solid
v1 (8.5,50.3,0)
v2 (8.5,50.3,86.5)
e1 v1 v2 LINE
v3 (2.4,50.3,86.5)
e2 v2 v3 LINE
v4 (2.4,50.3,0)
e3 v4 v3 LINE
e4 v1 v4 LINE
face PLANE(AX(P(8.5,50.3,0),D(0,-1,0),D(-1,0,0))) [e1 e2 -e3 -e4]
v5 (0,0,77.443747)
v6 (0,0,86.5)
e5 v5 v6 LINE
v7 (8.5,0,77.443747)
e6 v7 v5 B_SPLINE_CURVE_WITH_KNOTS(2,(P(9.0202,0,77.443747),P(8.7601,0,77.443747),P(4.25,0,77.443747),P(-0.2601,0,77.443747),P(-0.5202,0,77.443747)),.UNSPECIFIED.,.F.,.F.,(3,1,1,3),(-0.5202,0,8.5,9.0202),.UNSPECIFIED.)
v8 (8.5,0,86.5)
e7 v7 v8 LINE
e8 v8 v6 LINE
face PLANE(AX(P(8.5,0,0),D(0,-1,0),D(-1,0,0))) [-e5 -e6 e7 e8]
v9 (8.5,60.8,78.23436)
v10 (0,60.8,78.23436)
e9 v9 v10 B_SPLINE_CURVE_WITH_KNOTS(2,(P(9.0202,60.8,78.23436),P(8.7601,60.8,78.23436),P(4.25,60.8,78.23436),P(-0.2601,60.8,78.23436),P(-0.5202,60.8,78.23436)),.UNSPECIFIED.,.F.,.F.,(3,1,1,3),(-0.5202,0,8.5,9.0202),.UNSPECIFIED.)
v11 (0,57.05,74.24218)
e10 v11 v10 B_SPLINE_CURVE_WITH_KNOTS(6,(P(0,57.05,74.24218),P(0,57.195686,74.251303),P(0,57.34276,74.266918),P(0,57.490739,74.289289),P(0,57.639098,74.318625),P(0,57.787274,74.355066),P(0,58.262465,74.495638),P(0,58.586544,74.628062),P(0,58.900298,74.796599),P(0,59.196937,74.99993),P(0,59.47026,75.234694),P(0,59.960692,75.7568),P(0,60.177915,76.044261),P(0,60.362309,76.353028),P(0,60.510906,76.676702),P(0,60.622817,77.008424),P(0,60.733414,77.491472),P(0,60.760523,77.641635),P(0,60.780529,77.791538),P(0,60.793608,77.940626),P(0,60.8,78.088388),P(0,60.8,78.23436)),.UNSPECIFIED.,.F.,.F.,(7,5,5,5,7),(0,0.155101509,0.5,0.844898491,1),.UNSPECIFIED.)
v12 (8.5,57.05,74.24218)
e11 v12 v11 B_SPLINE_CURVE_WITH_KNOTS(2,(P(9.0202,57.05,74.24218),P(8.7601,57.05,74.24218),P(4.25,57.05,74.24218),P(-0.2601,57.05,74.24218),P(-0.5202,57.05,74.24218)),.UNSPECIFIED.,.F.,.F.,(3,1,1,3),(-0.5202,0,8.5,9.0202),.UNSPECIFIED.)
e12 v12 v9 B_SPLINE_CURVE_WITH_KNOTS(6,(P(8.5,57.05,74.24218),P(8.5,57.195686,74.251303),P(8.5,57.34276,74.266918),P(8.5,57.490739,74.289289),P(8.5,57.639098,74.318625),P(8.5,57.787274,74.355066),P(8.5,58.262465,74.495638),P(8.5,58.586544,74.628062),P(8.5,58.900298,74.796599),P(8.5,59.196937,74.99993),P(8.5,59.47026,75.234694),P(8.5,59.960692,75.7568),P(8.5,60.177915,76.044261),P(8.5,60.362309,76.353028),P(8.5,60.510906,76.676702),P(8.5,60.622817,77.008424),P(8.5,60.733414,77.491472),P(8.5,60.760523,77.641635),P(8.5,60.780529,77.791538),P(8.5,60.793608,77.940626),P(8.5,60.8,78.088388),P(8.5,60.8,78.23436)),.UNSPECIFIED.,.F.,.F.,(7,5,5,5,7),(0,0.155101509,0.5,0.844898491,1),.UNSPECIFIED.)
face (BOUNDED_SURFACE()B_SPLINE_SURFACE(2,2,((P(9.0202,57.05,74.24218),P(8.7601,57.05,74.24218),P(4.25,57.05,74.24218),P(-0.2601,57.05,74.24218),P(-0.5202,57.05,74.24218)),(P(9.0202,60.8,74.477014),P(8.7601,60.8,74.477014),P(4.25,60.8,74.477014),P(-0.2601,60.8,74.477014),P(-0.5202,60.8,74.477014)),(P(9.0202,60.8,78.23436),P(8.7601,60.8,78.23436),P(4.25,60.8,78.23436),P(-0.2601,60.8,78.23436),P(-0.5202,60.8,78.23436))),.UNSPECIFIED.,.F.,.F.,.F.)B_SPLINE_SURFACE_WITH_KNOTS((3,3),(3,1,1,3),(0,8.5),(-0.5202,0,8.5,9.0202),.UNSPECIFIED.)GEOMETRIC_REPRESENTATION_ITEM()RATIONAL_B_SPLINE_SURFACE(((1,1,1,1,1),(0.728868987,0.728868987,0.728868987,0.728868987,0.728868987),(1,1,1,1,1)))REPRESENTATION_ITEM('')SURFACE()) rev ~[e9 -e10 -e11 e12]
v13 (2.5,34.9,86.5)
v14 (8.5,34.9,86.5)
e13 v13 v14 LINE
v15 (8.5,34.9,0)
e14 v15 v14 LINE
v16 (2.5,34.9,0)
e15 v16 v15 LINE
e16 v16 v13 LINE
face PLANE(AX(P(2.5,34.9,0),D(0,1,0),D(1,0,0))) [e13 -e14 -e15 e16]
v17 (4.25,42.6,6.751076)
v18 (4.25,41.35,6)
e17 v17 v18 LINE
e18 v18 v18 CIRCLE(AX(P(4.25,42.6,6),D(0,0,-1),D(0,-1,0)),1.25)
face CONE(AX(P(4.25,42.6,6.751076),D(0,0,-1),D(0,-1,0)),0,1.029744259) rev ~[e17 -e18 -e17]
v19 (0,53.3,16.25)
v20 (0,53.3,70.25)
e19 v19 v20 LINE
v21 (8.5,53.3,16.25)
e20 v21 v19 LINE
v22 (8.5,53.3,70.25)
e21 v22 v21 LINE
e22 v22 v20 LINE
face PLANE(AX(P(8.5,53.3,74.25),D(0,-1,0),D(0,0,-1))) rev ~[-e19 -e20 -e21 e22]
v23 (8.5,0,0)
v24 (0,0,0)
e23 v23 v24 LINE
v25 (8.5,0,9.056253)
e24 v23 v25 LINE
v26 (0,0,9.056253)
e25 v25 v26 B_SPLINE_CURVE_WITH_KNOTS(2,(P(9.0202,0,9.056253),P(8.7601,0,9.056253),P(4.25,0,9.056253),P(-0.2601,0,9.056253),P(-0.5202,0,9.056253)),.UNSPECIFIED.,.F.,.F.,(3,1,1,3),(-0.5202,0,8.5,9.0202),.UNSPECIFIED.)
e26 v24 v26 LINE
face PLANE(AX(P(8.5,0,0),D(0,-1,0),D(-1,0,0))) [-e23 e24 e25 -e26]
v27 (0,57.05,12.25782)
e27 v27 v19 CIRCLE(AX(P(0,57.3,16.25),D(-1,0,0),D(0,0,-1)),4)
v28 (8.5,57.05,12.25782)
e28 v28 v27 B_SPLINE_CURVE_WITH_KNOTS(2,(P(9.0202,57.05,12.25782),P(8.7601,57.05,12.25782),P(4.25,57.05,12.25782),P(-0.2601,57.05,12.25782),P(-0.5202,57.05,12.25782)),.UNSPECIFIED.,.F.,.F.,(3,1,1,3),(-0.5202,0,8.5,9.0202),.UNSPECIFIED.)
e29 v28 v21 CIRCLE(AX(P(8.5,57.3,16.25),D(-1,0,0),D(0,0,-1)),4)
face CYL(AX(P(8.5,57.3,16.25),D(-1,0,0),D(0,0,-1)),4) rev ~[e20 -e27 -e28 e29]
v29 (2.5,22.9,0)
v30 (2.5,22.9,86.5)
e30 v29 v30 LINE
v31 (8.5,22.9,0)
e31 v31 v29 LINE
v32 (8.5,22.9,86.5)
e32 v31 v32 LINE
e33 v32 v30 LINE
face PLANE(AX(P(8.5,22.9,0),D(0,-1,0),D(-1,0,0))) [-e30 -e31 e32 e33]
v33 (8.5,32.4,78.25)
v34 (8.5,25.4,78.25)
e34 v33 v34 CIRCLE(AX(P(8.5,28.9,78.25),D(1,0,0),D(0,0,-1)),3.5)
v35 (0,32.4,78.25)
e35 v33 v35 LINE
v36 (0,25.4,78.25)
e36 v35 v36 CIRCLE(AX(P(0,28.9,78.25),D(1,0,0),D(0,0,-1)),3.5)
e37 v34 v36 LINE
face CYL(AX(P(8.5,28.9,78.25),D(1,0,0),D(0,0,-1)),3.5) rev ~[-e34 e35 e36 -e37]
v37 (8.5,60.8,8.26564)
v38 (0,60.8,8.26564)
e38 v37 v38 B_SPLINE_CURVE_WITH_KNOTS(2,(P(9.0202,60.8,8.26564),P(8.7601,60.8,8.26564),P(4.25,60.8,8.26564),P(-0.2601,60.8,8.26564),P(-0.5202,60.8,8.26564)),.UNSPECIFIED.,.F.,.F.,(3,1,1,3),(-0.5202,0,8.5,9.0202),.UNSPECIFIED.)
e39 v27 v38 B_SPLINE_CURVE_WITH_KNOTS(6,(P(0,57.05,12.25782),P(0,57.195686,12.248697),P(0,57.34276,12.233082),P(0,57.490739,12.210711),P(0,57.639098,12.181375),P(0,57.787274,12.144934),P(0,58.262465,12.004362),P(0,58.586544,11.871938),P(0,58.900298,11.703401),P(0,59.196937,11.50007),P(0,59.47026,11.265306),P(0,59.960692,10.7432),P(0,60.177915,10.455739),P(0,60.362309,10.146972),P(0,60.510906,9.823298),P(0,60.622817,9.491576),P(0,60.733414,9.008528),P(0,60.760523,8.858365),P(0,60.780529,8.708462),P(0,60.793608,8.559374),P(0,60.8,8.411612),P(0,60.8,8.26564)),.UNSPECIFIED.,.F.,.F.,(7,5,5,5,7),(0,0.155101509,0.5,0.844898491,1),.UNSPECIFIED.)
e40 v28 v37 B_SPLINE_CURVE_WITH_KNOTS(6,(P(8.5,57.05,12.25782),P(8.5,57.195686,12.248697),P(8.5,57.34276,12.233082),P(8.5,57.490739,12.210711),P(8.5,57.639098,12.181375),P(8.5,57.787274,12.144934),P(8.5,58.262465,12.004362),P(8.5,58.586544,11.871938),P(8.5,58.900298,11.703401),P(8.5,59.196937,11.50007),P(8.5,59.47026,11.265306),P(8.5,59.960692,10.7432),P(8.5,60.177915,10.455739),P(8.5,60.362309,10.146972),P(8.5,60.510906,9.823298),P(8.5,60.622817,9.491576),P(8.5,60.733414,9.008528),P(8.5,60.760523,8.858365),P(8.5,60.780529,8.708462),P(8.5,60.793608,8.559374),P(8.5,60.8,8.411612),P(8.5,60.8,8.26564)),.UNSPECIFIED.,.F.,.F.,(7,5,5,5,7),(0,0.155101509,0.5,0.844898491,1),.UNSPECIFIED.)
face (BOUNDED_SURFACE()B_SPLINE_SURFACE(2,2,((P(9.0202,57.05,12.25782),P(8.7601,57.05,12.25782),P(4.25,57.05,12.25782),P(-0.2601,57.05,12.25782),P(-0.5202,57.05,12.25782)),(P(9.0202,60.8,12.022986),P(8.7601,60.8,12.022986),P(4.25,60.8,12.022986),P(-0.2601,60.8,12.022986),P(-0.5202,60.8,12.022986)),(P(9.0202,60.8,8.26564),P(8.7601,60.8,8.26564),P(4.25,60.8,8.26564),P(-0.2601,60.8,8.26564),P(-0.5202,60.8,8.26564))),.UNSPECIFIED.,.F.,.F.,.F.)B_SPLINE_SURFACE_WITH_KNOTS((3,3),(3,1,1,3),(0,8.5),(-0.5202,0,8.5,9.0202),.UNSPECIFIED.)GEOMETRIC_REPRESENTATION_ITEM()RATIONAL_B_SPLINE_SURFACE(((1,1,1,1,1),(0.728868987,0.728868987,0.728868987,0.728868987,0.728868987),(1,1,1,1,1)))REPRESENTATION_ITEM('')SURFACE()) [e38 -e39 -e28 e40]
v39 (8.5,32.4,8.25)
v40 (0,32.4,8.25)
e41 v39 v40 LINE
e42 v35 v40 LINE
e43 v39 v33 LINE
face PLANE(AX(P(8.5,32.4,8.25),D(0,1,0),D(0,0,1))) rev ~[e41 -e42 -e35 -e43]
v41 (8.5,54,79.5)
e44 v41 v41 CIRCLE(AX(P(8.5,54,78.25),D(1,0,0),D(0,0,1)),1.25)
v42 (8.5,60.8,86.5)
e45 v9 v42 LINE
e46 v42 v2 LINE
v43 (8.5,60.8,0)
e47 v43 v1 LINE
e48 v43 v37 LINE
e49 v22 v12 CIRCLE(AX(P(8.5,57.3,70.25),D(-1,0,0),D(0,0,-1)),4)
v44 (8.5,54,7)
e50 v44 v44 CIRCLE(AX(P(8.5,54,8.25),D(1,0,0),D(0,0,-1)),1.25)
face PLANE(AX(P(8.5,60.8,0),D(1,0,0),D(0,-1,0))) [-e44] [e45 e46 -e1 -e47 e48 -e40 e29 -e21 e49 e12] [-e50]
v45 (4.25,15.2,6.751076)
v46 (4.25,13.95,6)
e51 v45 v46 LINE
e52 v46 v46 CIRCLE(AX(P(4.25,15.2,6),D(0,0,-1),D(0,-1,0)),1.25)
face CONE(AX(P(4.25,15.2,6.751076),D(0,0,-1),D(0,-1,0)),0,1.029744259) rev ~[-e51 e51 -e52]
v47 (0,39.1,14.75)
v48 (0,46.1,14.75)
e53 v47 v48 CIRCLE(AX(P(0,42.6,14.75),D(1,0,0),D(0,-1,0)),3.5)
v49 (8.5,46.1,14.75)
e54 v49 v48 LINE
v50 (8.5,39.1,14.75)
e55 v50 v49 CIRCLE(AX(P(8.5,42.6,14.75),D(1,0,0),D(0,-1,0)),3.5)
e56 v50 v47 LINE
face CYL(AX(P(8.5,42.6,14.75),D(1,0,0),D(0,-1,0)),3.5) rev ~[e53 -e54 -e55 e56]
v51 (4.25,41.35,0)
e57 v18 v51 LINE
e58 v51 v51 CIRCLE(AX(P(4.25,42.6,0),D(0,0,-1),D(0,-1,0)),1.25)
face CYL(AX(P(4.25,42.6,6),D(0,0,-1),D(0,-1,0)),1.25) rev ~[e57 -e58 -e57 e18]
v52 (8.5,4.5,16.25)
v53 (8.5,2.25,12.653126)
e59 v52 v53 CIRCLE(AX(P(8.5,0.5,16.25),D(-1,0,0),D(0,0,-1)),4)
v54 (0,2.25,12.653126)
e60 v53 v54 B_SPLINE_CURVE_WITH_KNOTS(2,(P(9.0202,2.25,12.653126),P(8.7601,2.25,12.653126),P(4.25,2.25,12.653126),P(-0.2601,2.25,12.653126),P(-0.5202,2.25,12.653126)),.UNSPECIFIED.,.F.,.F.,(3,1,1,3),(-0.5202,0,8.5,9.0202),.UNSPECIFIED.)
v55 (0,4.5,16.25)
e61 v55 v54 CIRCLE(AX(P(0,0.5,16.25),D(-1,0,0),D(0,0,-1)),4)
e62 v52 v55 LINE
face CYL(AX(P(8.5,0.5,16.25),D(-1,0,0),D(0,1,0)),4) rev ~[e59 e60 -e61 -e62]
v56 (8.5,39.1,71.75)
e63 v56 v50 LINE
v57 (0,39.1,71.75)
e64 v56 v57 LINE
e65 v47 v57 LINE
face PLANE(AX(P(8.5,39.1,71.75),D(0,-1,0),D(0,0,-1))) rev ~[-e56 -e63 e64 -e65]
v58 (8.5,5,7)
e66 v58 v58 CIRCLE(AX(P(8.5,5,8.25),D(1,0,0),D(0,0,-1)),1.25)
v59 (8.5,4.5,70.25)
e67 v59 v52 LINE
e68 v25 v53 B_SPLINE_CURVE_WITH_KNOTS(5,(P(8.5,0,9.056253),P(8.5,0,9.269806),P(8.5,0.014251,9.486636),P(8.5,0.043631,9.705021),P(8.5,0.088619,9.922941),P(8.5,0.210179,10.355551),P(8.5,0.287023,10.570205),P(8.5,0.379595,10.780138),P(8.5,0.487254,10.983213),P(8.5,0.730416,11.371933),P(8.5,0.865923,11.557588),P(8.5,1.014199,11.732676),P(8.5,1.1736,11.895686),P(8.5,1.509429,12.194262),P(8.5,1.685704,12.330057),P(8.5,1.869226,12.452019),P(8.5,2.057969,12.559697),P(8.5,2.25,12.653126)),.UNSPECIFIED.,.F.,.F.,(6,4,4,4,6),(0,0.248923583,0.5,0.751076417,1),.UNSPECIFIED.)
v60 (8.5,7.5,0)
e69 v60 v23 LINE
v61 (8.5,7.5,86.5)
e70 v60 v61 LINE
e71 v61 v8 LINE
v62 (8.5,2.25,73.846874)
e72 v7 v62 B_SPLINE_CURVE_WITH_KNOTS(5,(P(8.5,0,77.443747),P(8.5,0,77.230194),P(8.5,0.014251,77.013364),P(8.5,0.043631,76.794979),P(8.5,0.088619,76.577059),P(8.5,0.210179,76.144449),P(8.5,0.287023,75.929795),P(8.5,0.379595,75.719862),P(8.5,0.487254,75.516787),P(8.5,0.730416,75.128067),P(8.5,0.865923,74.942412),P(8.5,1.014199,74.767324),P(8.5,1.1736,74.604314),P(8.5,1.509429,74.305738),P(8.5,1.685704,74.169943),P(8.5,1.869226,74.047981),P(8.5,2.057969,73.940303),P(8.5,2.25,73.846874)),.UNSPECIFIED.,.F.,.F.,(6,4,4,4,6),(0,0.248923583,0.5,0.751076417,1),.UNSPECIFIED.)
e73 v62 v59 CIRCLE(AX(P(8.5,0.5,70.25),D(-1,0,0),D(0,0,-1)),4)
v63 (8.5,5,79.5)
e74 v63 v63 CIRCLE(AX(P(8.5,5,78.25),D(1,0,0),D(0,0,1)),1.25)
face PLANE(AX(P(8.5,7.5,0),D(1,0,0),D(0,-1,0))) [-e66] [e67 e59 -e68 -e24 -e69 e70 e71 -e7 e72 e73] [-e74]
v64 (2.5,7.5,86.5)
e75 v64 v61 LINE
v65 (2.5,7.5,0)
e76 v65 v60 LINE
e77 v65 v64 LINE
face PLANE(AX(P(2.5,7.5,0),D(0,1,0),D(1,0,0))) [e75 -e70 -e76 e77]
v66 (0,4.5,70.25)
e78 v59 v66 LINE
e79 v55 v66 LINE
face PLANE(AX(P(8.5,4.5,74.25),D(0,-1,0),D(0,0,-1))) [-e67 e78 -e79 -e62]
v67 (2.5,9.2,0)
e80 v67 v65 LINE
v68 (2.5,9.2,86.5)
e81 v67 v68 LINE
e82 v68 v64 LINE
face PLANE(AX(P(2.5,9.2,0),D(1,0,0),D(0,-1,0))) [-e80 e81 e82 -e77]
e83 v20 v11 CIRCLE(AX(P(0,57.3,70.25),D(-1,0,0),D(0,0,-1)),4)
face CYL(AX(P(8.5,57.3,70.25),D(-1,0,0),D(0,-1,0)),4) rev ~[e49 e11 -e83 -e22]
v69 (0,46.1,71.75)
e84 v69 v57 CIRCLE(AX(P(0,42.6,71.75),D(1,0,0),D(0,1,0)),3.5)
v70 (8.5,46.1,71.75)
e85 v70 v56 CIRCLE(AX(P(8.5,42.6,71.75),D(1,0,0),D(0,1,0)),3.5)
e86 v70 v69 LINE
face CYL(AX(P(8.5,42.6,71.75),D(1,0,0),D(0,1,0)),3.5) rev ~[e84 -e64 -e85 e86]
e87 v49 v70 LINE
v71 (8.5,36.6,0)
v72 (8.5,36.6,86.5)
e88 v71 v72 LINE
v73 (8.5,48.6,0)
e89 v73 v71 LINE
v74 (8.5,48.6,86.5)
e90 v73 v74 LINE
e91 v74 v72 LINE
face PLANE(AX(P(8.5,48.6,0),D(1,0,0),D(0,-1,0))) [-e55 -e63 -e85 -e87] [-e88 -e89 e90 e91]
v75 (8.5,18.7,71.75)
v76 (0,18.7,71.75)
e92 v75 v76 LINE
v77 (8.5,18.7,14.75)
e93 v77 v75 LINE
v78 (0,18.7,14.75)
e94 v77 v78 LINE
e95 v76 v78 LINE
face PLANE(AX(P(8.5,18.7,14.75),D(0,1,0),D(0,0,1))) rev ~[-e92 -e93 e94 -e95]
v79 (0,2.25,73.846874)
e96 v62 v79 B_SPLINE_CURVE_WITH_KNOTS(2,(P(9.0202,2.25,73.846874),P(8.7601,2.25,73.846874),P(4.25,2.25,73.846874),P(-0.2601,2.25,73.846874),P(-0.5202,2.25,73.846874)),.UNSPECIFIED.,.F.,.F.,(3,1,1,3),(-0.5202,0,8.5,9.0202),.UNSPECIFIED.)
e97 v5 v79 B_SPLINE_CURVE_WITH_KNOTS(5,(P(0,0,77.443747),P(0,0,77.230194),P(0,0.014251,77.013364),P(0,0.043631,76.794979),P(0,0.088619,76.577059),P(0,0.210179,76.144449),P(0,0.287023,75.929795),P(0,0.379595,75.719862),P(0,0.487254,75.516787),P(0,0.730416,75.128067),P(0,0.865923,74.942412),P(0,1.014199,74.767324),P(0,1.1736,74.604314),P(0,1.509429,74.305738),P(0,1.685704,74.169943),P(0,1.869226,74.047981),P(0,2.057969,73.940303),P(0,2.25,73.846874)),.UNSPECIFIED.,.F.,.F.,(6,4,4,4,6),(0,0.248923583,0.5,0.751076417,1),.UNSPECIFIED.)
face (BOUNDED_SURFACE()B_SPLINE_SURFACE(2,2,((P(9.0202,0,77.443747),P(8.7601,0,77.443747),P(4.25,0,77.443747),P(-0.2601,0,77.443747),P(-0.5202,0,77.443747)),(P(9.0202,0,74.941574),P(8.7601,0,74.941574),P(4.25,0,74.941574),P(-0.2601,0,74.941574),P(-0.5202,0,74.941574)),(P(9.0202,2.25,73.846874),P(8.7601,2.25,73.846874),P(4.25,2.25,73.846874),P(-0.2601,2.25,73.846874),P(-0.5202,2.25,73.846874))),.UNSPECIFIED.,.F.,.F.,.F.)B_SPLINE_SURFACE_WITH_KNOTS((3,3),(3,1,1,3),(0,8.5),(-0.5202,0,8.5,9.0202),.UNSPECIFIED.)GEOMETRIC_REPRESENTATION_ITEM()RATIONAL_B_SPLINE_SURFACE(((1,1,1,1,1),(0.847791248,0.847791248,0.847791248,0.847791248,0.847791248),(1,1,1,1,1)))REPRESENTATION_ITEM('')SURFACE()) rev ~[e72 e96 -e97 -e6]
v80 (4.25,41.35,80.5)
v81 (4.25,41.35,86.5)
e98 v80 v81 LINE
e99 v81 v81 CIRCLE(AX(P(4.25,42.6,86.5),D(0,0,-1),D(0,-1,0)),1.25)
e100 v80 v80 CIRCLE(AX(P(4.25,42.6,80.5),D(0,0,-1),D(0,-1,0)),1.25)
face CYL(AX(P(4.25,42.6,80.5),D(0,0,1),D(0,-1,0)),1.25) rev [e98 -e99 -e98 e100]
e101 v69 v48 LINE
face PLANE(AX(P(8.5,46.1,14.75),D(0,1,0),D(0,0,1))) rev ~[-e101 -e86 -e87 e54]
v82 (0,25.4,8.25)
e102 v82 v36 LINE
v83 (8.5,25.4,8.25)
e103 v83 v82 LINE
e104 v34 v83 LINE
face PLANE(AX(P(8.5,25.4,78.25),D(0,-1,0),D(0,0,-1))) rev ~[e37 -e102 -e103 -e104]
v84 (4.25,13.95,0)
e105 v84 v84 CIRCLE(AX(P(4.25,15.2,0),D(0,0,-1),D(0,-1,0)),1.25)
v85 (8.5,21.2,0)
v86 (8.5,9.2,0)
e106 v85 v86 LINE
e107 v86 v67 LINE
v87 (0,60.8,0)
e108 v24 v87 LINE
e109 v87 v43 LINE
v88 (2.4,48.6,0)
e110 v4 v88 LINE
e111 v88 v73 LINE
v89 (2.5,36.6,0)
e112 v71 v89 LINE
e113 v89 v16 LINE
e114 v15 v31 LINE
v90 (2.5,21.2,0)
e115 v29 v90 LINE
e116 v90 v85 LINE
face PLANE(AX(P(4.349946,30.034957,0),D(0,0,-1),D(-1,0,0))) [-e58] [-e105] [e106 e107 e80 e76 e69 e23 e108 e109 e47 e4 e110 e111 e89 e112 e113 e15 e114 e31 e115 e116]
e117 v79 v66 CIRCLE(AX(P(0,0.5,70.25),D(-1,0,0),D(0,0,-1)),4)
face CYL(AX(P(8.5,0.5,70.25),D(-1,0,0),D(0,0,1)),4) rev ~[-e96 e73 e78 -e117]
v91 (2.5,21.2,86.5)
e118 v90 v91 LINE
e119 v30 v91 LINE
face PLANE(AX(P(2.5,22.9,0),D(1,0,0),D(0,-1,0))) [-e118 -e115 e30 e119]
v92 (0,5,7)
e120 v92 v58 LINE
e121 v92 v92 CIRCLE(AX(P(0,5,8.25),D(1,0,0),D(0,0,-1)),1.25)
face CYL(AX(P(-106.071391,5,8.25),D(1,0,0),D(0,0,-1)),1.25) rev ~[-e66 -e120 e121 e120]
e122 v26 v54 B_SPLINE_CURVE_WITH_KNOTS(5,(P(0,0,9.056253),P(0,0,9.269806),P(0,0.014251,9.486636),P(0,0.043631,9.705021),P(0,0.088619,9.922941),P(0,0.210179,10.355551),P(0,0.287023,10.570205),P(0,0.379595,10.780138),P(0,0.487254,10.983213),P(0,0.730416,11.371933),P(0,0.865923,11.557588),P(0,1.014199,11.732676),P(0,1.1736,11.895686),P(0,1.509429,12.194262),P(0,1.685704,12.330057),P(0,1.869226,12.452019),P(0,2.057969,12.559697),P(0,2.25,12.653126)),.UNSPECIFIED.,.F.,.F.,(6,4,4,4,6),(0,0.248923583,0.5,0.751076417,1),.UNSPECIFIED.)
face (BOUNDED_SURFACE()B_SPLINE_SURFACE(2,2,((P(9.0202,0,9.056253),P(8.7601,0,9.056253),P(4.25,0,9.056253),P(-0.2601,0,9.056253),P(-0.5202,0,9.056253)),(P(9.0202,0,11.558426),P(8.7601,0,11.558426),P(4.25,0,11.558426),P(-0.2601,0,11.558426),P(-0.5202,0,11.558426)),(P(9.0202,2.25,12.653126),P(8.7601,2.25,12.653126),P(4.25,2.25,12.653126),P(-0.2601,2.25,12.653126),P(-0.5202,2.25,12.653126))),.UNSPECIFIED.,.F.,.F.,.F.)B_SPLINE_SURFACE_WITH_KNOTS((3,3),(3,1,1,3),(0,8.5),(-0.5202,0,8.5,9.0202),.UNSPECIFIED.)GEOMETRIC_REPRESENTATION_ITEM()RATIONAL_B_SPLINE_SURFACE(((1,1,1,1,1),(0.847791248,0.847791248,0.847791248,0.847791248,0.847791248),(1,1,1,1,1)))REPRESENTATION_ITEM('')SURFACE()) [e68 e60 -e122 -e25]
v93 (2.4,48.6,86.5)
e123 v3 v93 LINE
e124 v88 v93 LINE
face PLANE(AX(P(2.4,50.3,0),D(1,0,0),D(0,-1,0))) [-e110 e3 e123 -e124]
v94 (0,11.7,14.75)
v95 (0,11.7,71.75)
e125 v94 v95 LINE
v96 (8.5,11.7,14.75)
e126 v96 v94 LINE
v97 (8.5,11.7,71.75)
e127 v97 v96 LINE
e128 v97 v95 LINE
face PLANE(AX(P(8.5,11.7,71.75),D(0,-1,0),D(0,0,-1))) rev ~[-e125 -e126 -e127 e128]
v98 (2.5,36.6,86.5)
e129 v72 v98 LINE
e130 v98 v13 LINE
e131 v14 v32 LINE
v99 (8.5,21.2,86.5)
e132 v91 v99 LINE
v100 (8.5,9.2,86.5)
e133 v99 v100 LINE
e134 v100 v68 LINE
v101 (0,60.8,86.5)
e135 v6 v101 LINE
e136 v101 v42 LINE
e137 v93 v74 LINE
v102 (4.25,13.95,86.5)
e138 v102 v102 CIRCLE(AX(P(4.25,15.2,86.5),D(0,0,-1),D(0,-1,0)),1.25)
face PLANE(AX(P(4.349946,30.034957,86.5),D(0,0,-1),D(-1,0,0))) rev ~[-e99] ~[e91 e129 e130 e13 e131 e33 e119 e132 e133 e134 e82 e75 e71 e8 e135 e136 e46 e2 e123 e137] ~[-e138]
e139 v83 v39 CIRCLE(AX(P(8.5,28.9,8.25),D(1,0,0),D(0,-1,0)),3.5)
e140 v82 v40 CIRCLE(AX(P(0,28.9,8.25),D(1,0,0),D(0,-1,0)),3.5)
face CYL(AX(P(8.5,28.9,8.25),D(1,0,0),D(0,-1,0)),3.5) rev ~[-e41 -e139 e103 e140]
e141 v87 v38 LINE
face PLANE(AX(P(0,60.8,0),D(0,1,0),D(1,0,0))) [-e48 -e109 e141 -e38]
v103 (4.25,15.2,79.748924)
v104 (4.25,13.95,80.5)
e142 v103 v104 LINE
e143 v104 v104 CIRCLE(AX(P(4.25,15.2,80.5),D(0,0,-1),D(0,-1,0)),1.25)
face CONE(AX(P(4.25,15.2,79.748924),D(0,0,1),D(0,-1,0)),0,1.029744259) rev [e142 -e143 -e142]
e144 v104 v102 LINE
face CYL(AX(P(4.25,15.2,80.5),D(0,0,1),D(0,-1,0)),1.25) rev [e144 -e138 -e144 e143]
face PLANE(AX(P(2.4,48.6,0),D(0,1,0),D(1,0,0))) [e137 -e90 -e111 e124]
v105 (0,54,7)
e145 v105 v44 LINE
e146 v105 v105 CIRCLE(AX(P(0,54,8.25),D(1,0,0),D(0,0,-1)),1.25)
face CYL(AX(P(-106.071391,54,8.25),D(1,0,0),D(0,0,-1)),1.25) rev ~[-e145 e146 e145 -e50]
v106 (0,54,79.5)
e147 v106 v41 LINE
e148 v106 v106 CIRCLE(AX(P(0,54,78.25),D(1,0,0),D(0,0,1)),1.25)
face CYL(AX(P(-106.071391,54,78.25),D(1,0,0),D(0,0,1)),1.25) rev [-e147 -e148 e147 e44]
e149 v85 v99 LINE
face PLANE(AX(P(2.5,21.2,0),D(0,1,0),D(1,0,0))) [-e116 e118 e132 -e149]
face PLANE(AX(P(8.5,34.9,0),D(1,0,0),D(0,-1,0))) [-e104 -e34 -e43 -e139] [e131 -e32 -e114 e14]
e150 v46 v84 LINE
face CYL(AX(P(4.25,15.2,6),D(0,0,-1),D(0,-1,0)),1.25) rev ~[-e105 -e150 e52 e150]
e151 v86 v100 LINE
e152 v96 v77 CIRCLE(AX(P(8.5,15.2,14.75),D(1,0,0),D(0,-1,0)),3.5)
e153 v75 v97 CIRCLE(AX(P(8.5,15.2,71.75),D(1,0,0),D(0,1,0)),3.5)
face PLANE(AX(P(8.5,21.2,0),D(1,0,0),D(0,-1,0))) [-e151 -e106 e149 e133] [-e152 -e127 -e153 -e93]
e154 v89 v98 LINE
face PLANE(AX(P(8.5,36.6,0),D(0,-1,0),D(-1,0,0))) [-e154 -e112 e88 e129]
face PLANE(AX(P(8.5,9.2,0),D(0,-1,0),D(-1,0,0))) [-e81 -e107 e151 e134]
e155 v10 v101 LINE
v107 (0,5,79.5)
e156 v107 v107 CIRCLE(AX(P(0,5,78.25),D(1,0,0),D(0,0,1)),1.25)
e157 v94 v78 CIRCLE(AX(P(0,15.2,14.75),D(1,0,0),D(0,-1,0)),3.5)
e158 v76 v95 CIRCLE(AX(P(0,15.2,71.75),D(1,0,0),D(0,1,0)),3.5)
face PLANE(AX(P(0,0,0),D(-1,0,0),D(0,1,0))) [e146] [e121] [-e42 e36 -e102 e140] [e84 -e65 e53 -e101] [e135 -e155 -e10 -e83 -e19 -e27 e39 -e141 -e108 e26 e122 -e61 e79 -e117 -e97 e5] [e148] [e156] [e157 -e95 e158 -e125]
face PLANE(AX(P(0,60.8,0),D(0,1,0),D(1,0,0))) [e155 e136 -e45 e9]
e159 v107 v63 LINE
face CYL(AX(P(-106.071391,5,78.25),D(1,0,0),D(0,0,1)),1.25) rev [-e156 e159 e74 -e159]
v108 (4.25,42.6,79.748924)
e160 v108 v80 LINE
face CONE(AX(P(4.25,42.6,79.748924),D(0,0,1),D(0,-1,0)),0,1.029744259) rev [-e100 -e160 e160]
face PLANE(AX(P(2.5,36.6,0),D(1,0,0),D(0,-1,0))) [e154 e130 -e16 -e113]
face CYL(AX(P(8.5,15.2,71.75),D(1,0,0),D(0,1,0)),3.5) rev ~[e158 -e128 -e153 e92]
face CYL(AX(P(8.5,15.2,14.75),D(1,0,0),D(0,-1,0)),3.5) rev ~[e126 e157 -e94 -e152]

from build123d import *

# Parameters (mm, degrees)
BOSS_EXTRUDE1_DEPTH            = 86.5
M3X0_5_TAPPED_HOLE2_AT_2_COUNT = 2
M3X0_5_TAPPED_HOLE2_AT_2_PITCH = 27.4
M3X0_5_TAPPED_HOLE1_D          = 2.5
SKETCH14_R                     = 3.5
CUT_EXTRUDE3_DEPTH             = 9.5
CUT_EXTRUDE1_DEPTH             = 9.5
SKETCH15_W                     = 62
SKETCH15_H                     = 7.5
CUT_EXTRUDE4_DEPTH             = 9.5
SKETCH16_W                     = 62
SKETCH16_H                     = 4.5
CUT_EXTRUDE5_DEPTH             = 9.5
FILLET2_R                      = 4
FILLET3_R                      = 4


with BuildPart() as part:
    # Sketch1 → Boss-Extrude1 (new body)
    with BuildSketch(Plane.XY):
        Polygon((0, 0), (0, 60.8), (8.5, 60.8), (8.5, 50.3), (2.4, 50.3), (2.4, 48.6), (8.5, 48.6), (8.5, 36.6), (2.5, 36.6), (2.5, 34.9), (8.5, 34.9), (8.5, 22.9), (2.5, 22.9), (2.5, 21.2), (8.5, 21.2), (8.5, 9.2), (2.5, 9.2), (2.5, 7.5), (8.5, 7.5), (8.5, 0), align=None)
    extrude(amount=BOSS_EXTRUDE1_DEPTH)

    # Sketch4 → M3x0.5 Tapped Hole2 (revolve, cut)
    with BuildSketch(Plane(origin=(4.25, 42.6, 86.5), x_dir=(0, -1, 0), z_dir=(1, 0, 0))):
        Polygon((0, 0), (0, 6.751075774), (1.25, 6), (1.25, 0), align=None)
    m3x0_5_tapped_hole2 = revolve(axis=Axis((4.25, 42.6, 92.85), (0, 0, -1)), mode=Mode.SUBTRACT)

    # M3x0.5 Tapped Hole2 at 2: M3x0.5 Tapped Hole2 ×2
    with Locations(*[(0, -i * M3X0_5_TAPPED_HOLE2_AT_2_PITCH, 0) for i in range(1, M3X0_5_TAPPED_HOLE2_AT_2_COUNT)]):
        add(m3x0_5_tapped_hole2, mode=Mode.SUBTRACT)

    # Mirror1: M3x0.5 Tapped Hole2 across plane
    add(m3x0_5_tapped_hole2.mirror(Plane.XY.offset(43.25)), mode=Mode.SUBTRACT)

    # Mirror1 copy 1 sketch → Mirror1 copy 1 (revolve, cut)
    with BuildSketch(Plane(origin=(4.25, 15.2, 0), x_dir=(0, -1, 0), z_dir=(1, 0, 0))):
        Polygon((0, 0), (0, -6.751075774), (1.25, -6), (1.25, 0), align=None)
    revolve(axis=Axis((4.25, 15.2, -6.35), (0, 0, -1)), mode=Mode.SUBTRACT)

    # M3x0.5 Tapped Hole1 (through all)
    with Locations(Plane.ZY):
        with Locations((8.25, 5), (8.25, 54)):
            m3x0_5_tapped_hole1 = Hole(M3X0_5_TAPPED_HOLE1_D / 2)

    # Mirror2: M3x0.5 Tapped Hole1 across plane
    add(m3x0_5_tapped_hole1.mirror(Plane(origin=(0, 0, 43.25), x_dir=(1, 0, 0), z_dir=(0, 0, -1))), mode=Mode.SUBTRACT)

    # Sketch14 → Cut-Extrude3 (cut, through all)
    with BuildSketch(Plane(origin=(8.5, 0, 0), x_dir=(0, 0, -1), z_dir=(1, 0, 0))):
        with BuildLine():
            Line((-8.25, 32.4), (-78.25, 32.4))
            ThreePointArc((-78.25, 32.4), (-75.775126266, 31.374873734), (-74.75, 28.9))
            ThreePointArc((-74.75, 28.9), (-75.775126266, 26.425126266), (-78.25, 25.4))
            Line((-78.25, 25.4), (-8.25, 25.4))
            ThreePointArc((-8.25, 25.4), (-11.75, 28.9), (-8.25, 32.4))
        make_face()
        with Locations((-78.25, 28.9)):
            Circle(SKETCH14_R)
        with Locations((-8.25, 28.9)):
            Circle(SKETCH14_R)
    extrude(amount=-CUT_EXTRUDE3_DEPTH, mode=Mode.SUBTRACT)

    # Sketch12 → Cut-Extrude1 (cut, through all)
    with BuildSketch(Plane(origin=(8.5, 0, 0), x_dir=(0, 0, -1), z_dir=(1, 0, 0))):
        with BuildLine():
            Line((-14.75, 46.1), (-71.75, 46.1))
            ThreePointArc((-71.75, 46.1), (-75.25, 42.6), (-71.75, 39.1))
            Line((-71.75, 39.1), (-14.75, 39.1))
            ThreePointArc((-14.75, 39.1), (-11.25, 42.6), (-14.75, 46.1))
        make_face()
        with BuildLine():
            Line((-14.75, 18.7), (-71.75, 18.7))
            ThreePointArc((-71.75, 18.7), (-75.25, 15.2), (-71.75, 11.7))
            Line((-71.75, 11.7), (-14.75, 11.7))
            ThreePointArc((-14.75, 11.7), (-11.25, 15.2), (-14.75, 18.7))
        make_face()
    extrude(amount=-CUT_EXTRUDE1_DEPTH, mode=Mode.SUBTRACT)

    # Sketch15 → Cut-Extrude4 (cut, through all)
    with BuildSketch(Plane(origin=(8.5, 0, 0), x_dir=(0, 0, -1), z_dir=(1, 0, 0))):
        with Locations((-43.25, 57.05)):
            Rectangle(SKETCH15_W, SKETCH15_H)
    extrude(amount=-CUT_EXTRUDE4_DEPTH, mode=Mode.SUBTRACT)

    # Sketch16 → Cut-Extrude5 (cut, through all)
    with BuildSketch(Plane(origin=(8.5, 0, 0), x_dir=(0, 0, -1), z_dir=(1, 0, 0))):
        with Locations((-43.25, 2.25)):
            Rectangle(SKETCH16_W, SKETCH16_H)
    extrude(amount=-CUT_EXTRUDE5_DEPTH, mode=Mode.SUBTRACT)

    # Fillet2
    fillet2_edges = [part.edges().sort_by_distance(p)[0] for p in [
        (4.25, 53.3, 12.25),
        (4.25, 53.3, 74.25),
        (4.25, 4.5, 12.25),
        (4.25, 4.5, 74.25),
    ]]
    fillet(fillet2_edges, radius=FILLET2_R)

    # Fillet3
    fillet3_edges = [part.edges().sort_by_distance(p)[0] for p in [
        (4.25, 0, 12.25),
        (4.25, 0, 74.25),
        (4.25, 60.8, 12.25),
        (4.25, 60.8, 74.25),
    ]]
    fillet(fillet3_edges, radius=FILLET3_R)


solid = part.part
